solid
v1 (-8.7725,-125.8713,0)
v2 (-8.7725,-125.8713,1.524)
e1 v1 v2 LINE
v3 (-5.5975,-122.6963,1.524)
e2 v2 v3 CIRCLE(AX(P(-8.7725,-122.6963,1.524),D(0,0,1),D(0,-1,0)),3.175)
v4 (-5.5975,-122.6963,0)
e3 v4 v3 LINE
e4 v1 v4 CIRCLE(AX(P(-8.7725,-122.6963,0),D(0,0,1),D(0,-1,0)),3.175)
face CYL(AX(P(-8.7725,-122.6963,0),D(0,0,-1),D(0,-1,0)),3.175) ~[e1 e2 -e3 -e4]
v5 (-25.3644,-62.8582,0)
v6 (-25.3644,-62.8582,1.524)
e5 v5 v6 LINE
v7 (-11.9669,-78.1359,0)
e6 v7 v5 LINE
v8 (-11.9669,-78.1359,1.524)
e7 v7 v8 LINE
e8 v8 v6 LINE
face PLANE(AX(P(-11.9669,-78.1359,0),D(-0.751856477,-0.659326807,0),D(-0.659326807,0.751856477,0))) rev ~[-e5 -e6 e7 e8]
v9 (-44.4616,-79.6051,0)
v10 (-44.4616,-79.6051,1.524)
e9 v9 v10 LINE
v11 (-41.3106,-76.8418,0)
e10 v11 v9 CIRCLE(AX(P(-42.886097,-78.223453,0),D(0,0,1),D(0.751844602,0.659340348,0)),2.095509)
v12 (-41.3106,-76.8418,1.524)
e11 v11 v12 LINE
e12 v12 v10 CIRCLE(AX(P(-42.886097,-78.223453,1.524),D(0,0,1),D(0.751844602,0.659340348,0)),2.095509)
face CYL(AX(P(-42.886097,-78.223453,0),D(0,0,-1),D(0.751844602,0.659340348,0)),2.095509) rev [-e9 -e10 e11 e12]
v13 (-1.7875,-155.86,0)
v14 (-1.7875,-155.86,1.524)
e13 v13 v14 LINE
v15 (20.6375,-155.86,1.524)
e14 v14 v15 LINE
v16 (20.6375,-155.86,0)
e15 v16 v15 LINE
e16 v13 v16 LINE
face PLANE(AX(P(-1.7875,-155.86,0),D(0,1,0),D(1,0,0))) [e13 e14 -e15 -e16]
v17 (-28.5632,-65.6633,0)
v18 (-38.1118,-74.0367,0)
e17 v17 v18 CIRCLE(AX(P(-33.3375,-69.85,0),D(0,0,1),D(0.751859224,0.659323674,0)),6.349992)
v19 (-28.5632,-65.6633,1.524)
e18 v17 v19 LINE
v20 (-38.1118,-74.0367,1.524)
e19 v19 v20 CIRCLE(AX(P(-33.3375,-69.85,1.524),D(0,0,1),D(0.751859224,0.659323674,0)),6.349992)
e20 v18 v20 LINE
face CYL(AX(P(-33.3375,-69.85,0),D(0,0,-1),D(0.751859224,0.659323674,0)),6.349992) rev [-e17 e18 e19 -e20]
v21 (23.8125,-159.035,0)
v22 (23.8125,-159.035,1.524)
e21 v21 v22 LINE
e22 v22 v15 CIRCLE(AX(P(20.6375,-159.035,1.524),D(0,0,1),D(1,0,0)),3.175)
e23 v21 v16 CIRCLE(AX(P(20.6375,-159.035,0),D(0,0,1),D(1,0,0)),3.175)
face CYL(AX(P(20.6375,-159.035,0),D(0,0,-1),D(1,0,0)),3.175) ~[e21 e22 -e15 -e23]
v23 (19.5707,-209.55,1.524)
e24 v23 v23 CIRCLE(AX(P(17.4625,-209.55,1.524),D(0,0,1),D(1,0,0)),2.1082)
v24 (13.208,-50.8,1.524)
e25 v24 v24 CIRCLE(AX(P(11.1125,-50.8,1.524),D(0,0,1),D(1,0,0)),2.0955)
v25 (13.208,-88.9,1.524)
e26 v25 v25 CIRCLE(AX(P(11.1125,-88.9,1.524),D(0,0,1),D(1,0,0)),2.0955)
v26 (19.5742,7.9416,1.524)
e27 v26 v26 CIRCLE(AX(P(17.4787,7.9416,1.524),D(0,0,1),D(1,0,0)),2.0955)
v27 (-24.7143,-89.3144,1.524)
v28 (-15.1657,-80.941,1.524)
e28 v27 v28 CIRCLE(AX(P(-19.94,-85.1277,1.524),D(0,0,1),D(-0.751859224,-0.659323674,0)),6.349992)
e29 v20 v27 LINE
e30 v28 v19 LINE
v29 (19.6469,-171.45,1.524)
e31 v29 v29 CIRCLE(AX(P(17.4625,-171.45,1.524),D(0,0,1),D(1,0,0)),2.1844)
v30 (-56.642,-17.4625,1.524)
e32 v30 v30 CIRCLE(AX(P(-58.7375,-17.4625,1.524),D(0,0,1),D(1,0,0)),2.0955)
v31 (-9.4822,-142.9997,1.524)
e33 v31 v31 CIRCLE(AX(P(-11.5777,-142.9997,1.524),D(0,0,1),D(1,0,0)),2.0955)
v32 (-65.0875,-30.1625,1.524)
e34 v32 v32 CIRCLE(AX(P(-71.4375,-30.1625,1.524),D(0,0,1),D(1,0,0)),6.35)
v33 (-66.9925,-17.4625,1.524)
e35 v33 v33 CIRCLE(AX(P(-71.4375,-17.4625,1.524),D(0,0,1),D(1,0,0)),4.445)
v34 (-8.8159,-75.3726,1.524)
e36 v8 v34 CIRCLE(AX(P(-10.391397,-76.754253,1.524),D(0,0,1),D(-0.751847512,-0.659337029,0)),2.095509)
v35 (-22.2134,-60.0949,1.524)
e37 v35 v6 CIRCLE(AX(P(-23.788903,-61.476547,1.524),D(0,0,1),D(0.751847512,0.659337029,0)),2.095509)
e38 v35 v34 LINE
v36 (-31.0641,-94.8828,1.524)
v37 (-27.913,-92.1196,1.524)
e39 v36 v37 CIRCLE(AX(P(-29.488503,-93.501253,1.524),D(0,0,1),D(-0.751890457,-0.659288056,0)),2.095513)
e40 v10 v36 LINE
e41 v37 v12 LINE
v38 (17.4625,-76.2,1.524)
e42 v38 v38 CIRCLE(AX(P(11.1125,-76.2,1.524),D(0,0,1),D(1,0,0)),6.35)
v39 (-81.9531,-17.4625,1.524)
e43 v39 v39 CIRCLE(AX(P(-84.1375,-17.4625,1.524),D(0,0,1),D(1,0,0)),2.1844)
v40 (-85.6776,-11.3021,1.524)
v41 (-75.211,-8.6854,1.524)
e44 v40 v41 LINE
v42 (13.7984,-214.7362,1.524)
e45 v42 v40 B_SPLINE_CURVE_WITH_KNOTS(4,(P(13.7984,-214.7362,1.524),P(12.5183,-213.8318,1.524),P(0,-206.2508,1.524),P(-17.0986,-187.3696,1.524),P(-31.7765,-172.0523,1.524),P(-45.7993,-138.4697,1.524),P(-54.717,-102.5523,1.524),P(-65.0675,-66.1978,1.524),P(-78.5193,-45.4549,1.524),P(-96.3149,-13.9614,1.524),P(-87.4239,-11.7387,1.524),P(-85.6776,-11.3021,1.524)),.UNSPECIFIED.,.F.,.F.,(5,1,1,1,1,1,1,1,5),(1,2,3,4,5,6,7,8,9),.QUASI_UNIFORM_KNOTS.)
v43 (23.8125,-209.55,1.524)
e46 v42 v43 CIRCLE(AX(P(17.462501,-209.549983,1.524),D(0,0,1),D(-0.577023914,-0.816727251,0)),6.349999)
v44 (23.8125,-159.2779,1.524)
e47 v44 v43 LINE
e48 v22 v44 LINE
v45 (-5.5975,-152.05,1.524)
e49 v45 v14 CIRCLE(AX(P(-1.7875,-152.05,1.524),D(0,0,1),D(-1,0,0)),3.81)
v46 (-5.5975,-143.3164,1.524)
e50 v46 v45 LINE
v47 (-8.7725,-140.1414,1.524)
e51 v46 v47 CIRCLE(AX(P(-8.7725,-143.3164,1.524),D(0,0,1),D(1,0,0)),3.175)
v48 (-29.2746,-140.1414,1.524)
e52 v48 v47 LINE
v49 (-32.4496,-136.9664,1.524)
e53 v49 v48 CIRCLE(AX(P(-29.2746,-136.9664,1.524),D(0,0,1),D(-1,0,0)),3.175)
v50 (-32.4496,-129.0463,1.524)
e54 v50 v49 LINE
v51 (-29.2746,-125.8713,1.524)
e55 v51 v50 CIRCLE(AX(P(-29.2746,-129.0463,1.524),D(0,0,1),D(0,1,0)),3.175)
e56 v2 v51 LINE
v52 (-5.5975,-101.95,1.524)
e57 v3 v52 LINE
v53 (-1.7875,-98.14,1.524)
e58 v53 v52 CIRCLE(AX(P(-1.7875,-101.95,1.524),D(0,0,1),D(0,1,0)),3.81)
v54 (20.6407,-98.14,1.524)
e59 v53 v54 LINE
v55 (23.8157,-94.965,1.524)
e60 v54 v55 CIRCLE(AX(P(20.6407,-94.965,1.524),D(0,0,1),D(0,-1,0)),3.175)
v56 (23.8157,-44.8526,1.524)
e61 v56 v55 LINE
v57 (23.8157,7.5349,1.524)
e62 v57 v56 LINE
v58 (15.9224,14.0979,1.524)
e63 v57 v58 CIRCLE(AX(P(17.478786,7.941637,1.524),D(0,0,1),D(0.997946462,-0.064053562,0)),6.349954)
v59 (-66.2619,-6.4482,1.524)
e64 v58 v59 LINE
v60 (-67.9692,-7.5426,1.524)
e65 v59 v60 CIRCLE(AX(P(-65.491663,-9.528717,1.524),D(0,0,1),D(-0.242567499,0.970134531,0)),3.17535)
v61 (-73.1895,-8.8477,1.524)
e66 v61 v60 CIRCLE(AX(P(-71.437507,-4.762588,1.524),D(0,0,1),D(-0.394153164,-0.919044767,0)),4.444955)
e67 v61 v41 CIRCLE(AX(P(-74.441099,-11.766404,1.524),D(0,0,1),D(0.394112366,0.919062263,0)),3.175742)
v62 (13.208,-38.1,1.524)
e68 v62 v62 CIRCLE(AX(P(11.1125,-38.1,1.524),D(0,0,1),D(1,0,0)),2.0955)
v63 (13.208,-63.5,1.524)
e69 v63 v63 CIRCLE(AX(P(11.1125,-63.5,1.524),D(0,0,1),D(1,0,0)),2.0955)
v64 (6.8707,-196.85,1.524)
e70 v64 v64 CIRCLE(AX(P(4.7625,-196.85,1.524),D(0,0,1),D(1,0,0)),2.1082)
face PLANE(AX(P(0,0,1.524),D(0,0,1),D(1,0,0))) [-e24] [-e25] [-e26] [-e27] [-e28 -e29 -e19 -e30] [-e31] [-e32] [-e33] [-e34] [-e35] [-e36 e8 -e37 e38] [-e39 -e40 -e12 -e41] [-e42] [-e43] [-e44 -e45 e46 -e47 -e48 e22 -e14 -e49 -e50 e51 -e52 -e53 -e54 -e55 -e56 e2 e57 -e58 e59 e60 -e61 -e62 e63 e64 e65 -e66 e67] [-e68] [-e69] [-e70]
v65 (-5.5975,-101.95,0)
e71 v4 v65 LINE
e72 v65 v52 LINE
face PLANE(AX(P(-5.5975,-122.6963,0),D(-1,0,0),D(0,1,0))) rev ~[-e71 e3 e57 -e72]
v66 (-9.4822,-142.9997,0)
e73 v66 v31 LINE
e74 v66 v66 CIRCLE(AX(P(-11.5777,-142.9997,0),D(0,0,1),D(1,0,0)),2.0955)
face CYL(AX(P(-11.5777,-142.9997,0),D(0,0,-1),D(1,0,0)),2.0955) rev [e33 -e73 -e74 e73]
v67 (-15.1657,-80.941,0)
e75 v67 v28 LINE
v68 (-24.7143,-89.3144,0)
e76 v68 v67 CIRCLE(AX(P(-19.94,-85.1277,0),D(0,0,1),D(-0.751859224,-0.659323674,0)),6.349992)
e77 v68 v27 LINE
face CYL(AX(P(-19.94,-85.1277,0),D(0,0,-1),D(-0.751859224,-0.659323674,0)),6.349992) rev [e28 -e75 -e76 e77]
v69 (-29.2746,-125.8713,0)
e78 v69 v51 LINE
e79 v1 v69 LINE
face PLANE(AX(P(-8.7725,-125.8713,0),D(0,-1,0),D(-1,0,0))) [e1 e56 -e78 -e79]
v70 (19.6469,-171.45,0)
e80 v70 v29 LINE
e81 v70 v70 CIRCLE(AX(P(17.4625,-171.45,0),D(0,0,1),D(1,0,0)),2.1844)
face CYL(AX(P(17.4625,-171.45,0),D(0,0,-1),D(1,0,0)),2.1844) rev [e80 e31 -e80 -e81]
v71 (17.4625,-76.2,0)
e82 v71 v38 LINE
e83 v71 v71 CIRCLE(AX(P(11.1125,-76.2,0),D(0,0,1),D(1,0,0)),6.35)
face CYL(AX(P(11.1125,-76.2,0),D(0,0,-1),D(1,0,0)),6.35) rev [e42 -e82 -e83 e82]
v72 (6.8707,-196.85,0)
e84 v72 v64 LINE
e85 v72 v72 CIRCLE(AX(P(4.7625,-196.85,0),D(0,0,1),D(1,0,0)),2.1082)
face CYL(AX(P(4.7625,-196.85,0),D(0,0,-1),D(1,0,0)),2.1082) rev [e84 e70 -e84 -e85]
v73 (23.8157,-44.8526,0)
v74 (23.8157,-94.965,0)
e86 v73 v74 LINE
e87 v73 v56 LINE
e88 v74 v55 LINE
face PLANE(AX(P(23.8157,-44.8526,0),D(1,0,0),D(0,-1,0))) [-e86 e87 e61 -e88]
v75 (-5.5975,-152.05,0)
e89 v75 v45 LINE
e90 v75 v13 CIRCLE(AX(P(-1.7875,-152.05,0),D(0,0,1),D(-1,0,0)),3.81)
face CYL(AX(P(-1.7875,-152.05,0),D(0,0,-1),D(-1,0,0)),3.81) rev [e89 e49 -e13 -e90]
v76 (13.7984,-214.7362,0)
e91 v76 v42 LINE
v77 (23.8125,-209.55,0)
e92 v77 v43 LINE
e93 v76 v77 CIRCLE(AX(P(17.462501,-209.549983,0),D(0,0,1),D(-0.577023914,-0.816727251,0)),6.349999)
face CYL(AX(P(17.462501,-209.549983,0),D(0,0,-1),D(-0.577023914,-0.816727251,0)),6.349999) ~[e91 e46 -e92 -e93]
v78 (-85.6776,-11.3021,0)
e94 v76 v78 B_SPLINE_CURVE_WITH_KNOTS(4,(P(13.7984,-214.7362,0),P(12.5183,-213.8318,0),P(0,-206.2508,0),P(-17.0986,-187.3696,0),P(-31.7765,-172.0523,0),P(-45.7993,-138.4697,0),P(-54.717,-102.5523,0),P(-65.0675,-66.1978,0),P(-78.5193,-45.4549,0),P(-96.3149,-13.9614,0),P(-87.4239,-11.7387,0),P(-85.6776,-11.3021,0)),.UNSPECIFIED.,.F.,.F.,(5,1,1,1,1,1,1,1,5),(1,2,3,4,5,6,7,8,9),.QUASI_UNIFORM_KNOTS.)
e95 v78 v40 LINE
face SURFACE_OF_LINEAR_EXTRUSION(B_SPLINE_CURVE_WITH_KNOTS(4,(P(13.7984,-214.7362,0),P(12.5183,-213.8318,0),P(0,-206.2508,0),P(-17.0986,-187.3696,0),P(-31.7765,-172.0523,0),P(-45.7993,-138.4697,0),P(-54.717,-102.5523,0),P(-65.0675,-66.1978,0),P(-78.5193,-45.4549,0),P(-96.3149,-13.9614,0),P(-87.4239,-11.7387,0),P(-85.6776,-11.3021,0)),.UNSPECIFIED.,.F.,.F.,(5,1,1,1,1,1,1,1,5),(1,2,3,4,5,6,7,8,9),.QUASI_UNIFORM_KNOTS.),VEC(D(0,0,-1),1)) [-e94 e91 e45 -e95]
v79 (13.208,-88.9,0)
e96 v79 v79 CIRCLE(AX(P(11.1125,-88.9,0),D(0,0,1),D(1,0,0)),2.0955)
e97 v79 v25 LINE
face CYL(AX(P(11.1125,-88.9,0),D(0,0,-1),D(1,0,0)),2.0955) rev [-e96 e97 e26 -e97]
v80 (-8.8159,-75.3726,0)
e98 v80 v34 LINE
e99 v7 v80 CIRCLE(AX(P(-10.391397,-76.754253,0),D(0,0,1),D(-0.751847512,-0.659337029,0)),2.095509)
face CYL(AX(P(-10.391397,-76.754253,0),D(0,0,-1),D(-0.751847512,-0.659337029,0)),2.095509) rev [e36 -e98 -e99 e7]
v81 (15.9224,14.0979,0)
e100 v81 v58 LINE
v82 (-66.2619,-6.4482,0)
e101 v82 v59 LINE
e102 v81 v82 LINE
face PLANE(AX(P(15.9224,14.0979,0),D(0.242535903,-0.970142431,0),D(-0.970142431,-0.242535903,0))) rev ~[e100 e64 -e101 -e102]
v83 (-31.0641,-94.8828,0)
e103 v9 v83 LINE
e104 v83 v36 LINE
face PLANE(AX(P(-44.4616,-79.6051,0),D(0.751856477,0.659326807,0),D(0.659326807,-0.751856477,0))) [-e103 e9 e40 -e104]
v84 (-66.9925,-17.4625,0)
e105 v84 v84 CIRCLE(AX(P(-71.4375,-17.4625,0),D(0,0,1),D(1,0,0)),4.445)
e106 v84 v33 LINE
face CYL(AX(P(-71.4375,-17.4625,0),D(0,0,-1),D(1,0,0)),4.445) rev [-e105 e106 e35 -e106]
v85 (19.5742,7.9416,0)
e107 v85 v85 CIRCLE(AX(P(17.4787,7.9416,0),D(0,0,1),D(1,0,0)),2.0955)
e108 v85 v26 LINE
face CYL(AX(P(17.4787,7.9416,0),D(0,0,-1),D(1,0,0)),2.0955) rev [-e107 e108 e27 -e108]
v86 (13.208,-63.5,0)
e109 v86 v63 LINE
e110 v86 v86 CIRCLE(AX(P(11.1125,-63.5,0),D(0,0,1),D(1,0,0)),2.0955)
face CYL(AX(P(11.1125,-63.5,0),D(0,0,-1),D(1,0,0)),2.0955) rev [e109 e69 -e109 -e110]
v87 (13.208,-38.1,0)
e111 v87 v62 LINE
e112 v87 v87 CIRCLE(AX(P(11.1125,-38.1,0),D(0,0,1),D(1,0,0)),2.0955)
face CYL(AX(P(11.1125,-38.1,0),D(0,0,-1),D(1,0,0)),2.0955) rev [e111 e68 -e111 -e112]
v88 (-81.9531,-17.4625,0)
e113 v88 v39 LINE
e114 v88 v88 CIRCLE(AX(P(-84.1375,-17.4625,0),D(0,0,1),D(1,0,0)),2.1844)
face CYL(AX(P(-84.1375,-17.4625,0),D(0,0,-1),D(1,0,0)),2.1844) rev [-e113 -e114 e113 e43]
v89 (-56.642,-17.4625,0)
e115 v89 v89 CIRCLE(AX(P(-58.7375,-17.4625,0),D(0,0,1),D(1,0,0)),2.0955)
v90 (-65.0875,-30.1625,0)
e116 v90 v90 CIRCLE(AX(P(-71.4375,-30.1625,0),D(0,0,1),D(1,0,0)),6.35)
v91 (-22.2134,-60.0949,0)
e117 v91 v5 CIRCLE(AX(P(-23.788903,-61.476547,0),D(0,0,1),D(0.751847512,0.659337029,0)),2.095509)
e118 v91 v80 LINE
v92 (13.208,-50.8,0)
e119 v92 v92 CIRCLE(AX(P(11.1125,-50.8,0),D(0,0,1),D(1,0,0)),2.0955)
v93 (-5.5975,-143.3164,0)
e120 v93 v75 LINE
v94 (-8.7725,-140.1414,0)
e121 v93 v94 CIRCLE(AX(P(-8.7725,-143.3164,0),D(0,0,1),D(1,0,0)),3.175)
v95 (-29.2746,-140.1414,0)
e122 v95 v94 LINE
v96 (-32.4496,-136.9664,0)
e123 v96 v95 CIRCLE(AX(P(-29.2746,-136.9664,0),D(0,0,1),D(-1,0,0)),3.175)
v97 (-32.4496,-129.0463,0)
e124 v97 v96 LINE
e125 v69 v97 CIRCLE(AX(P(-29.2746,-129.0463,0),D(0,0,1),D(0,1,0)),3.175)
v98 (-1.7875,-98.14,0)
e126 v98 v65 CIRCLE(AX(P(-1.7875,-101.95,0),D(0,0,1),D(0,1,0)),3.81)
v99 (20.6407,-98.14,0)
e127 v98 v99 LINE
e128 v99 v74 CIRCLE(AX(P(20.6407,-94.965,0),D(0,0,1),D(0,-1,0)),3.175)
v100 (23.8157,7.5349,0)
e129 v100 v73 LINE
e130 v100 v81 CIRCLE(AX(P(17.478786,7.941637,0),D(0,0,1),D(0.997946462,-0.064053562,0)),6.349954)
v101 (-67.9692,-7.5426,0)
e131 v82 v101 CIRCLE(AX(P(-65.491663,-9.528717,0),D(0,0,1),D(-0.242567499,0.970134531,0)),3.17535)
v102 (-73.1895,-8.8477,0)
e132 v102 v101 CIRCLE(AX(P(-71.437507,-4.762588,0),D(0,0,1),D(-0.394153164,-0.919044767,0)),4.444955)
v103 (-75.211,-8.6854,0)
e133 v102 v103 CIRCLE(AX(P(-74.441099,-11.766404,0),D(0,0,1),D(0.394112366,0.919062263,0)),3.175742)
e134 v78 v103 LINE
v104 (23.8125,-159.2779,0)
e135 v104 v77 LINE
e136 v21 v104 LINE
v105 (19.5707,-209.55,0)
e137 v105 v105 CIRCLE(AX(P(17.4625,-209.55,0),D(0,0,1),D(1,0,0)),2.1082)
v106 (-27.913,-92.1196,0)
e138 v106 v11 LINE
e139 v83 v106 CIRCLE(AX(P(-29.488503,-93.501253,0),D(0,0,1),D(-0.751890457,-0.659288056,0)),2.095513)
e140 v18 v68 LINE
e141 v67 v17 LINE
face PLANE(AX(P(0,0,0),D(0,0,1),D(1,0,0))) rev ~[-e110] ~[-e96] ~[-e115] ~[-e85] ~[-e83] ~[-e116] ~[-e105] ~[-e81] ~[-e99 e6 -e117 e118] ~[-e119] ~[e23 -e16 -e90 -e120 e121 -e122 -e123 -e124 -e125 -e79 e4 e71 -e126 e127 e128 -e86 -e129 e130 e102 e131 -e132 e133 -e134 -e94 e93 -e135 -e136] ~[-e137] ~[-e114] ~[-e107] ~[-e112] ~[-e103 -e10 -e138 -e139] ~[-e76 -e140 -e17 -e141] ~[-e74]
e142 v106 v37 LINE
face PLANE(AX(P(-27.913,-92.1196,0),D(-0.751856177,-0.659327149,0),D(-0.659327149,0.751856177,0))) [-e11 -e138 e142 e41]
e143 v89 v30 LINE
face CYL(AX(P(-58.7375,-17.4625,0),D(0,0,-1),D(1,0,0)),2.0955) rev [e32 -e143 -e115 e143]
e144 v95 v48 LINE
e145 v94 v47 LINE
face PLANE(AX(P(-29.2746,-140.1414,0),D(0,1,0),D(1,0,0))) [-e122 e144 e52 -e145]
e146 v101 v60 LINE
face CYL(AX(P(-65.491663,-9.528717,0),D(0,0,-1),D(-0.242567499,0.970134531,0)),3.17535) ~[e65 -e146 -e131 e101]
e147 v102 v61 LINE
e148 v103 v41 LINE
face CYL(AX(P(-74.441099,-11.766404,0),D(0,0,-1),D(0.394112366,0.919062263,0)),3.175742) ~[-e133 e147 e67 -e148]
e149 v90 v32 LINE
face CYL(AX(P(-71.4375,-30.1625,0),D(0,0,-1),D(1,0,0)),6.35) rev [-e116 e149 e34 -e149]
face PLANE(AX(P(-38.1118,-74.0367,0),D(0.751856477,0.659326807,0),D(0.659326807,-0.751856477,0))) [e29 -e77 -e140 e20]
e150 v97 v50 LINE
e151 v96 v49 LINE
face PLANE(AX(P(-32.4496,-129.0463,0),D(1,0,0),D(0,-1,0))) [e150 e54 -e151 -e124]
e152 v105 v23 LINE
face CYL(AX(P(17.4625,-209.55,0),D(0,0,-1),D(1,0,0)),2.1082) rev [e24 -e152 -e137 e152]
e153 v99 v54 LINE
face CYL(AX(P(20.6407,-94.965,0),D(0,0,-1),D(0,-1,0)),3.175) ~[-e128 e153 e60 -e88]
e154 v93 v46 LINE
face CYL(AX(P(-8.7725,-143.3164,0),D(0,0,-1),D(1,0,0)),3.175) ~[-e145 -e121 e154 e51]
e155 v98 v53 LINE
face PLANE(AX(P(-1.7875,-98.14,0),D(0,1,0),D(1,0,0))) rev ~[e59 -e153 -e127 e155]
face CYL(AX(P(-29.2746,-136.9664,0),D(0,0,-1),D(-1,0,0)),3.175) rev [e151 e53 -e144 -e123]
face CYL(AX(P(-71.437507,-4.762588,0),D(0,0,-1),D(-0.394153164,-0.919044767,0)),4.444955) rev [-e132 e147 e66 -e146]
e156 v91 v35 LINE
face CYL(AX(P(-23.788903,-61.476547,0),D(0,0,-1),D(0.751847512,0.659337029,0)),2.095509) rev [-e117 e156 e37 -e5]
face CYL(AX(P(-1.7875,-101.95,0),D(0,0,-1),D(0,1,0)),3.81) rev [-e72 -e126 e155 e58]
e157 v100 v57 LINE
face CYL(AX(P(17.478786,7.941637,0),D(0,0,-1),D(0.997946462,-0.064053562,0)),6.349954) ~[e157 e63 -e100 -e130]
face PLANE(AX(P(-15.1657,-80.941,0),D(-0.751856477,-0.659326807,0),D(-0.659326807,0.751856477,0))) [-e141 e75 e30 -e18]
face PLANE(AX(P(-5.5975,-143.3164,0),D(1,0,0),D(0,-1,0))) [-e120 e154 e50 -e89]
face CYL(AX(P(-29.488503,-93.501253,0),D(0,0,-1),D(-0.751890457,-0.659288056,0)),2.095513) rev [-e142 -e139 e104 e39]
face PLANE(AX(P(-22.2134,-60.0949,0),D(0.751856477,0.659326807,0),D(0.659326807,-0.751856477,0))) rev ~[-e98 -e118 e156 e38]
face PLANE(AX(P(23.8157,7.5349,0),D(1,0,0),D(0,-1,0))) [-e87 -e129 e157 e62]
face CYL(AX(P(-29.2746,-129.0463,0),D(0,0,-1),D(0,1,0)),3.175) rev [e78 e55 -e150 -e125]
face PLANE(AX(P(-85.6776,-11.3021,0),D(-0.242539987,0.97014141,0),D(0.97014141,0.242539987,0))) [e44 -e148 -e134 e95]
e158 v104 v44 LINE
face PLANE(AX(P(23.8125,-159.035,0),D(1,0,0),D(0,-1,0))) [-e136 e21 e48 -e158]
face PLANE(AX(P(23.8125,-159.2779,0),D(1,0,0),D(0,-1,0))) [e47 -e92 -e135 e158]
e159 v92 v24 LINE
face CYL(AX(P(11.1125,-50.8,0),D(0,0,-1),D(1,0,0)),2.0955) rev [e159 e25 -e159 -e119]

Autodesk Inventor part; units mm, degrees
ref_plane "YZ Plane" through (0, 0, 0) normal (1, 0, 0) x (0, 1, 0)
ref_plane "XZ Plane" through (0, 0, 0) normal (0, 1, 0) x (-1, 0, 0)
ref_plane "XY Plane" through (0, 0, 0) normal (0, 0, 1) x (1, 0, 0)
sketch "Sketch1" plane through (0, 0, 0) normal (0, 0, 1) x (1, 0, 0)
  circle A0 centre (-71.4375, -30.1625) radius 6.35
  line L0 (23.8157, 7.5349) -> (23.8157, -44.8526)
  arc A1 (13.7984, -214.7362) -> (23.8125, -209.55) centre (17.4625, -209.55) ccw
  arc A2 (23.8157, 7.5349) -> (15.9224, 14.0979) centre (17.4787, 7.9416) ccw
  circle A3 centre (-71.4375, -17.4625) radius 2.1844
  line L1 (-85.6776, -11.3021) -> (-75.211, -8.6854)
  line L2 (15.9224, 14.0979) -> (-66.2619, -6.4482)
  arc A4 (-73.1895, -8.8477) -> (-67.9692, -7.5426) centre (-71.4375, -4.7625) ccw
  arc A5 (-66.2619, -6.4482) -> (-67.9692, -7.5426) centre (-65.4918, -9.5284) ccw
  arc A6 (-73.1895, -8.8477) -> (-75.211, -8.6854) centre (-74.4409, -11.7656) ccw
  circle A7 centre (-71.4375, -17.4625) radius 4.445
  circle A8 centre (11.1125, -88.9) radius 2.0955
  line L3 (23.8125, -159.2779) -> (23.8125, -209.55)
  line L4 (23.8157, -44.8526) -> (23.8157, -94.965)
  circle A9 centre (17.4787, 7.9416) radius 2.0955
  circle A10 centre (-58.7375, -17.4625) radius 2.0955
  circle A11 centre (11.1125, -38.1) radius 2.0955
  circle A12 centre (17.4625, -209.55) radius 2.1082
  circle A13 centre (4.7625, -196.85) radius 2.1082
  line L5 (-1.7875, -155.86) -> (20.6375, -155.86)
  line L6 (23.8125, -159.035) -> (23.8125, -159.2779)
  line L7 (-1.7875, -98.14) -> (20.6407, -98.14)
  arc A14 (-5.5975, -152.05) -> (-1.7875, -155.86) centre (-1.7875, -152.05) ccw
  arc A15 (-1.7875, -98.14) -> (-5.5975, -101.95) centre (-1.7875, -101.95) ccw
  arc A16 (23.8125, -159.035) -> (20.6375, -155.86) centre (20.6375, -159.035) ccw
  arc A17 (20.6407, -98.14) -> (23.8157, -94.965) centre (20.6407, -94.965) ccw
  circle A18 centre (17.4625, -171.45) radius 2.1844
  circle A19 centre (11.1125, -63.5) radius 2.0955
  circle A20 centre (11.1125, -50.8) radius 2.0955
  circle A21 centre (11.1125, -76.2) radius 6.35
  circle A22 centre (-11.5777, -142.9997) radius 2.0955
  line L8 (-29.2746, -140.1414) -> (-8.7725, -140.1414)
  line L9 (-8.7725, -125.8713) -> (-29.2746, -125.8713)
  line L10 (-32.4496, -129.0463) -> (-32.4496, -136.9664)
  line L11 (-5.5975, -143.3164) -> (-5.5975, -152.05)
  line L12 (-5.5975, -122.6963) -> (-5.5975, -101.95)
  arc A23 (-5.5975, -143.3164) -> (-8.7725, -140.1414) centre (-8.7725, -143.3164) ccw
  arc A24 (-8.7725, -125.8713) -> (-5.5975, -122.6963) centre (-8.7725, -122.6963) ccw
  arc A25 (-32.4496, -136.9664) -> (-29.2746, -140.1414) centre (-29.2746, -136.9664) ccw
  arc A26 (-29.2746, -125.8713) -> (-32.4496, -129.0463) centre (-29.2746, -129.0463) ccw
  line L13 (13.7984, -214.7362) -> (12.5183, -213.8318) construction
  line L14 (12.5183, -213.8318) -> (0, -206.2508) construction
  line L15 (0, -206.2508) -> (-17.0986, -187.3696) construction
  line L16 (-17.0986, -187.3696) -> (-31.7765, -172.0523) construction
  line L17 (-31.7765, -172.0523) -> (-45.7993, -138.4697) construction
  line L18 (-45.7993, -138.4697) -> (-54.717, -102.5523) construction
  line L19 (-54.717, -102.5523) -> (-65.0675, -66.1978) construction
  line L20 (-65.0675, -66.1978) -> (-78.5193, -45.4549) construction
  line L21 (-78.5193, -45.4549) -> (-96.3149, -13.9614) construction
  line L22 (-96.3149, -13.9614) -> (-87.4239, -11.7387) construction
  line L23 (-87.4239, -11.7387) -> (-85.6776, -11.3021) construction
  spline S0 degree 4 poles (13.7984, -214.7362) (12.5183, -213.8318) (0, -206.2508) (-17.0986, -187.3696) (-31.7765, -172.0523) (-45.7993, -138.4697) (-54.717, -102.5523) (-65.0675, -66.1978) (-78.5193, -45.4549) (-96.3149, -13.9614) (-87.4239, -11.7387) (-85.6776, -11.3021) knots 1 1 1 1 1 2 3 4 5 6 7 8 9 9 9 9 9
  circle A27 centre (-84.1375, -17.4625) radius 2.1844
  line L24 (-44.4616, -79.6051) -> (-31.0641, -94.8828)
  line L25 (-27.913, -92.1196) -> (-41.3106, -76.8418)
  arc A28 (-31.0641, -94.8828) -> (-27.913, -92.1196) centre (-29.4885, -93.5012) ccw
  line L26 (-22.2134, -60.0949) -> (-8.8159, -75.3726)
  line L27 (-11.9669, -78.1359) -> (-25.3644, -62.8582)
  arc A29 (-11.9669, -78.1359) -> (-8.8159, -75.3726) centre (-10.3914, -76.7543) ccw
  arc A30 (-41.3106, -76.8418) -> (-44.4616, -79.6051) centre (-42.8861, -78.2235) ccw
  arc A31 (-22.2134, -60.0949) -> (-25.3644, -62.8582) centre (-23.7889, -61.4765) ccw
  line L28 (-38.1118, -74.0367) -> (-24.7143, -89.3144)
  line L29 (-15.1657, -80.941) -> (-28.5632, -65.6633)
  arc A32 (-24.7143, -89.3144) -> (-15.1657, -80.941) centre (-19.94, -85.1277) ccw
  arc A33 (-28.5632, -65.6633) -> (-38.1118, -74.0367) centre (-33.3375, -69.85) ccw
  point P0 (0, 0)
  point P1 (13.9752, -214.8567)
  point P2 (-74.0123, -8.3858)
  point P3 (-67.4605, -6.7478)
  point P4 (23.8125, -209.55)
  point P5 (-28.1069, -95.0767)
  point P6 (-9.0098, -78.3298)
  dimension "d13" = 12.7
  dimension "d30" = 4.3688
  dimension "d32" = 3.175
  dimension "d33" = 8.89
  dimension "d34" = 4.191
  dimension "d51" = 4.191
  dimension "d54" = 4.2164
  dimension "d55" = 4.2164
  dimension "d62" = 3.175
  dimension "d65" = 4.191
  dimension "d66" = 12.7
  dimension "d67" = 4.191
  dimension "d68" = 4.191
  dimension "d69" = 4.191
  dimension "d71" = 4.191
  dimension "d73" = 3.175
  dimension "d74" = 3.175
  dimension "d84" = 20.32
extrude "Extrusion9" add sketch "Sketch1" along normal blind 1.524 contours L0 L4 A17 L7 A15 L12 A24 L9 A26 L10 A25 L8 A23 L11 A14 L5 A16 L6 L3 A1 S0 L1 A6 A4 A5 L2 A2
properties part number "outer-tower-support-proto"
